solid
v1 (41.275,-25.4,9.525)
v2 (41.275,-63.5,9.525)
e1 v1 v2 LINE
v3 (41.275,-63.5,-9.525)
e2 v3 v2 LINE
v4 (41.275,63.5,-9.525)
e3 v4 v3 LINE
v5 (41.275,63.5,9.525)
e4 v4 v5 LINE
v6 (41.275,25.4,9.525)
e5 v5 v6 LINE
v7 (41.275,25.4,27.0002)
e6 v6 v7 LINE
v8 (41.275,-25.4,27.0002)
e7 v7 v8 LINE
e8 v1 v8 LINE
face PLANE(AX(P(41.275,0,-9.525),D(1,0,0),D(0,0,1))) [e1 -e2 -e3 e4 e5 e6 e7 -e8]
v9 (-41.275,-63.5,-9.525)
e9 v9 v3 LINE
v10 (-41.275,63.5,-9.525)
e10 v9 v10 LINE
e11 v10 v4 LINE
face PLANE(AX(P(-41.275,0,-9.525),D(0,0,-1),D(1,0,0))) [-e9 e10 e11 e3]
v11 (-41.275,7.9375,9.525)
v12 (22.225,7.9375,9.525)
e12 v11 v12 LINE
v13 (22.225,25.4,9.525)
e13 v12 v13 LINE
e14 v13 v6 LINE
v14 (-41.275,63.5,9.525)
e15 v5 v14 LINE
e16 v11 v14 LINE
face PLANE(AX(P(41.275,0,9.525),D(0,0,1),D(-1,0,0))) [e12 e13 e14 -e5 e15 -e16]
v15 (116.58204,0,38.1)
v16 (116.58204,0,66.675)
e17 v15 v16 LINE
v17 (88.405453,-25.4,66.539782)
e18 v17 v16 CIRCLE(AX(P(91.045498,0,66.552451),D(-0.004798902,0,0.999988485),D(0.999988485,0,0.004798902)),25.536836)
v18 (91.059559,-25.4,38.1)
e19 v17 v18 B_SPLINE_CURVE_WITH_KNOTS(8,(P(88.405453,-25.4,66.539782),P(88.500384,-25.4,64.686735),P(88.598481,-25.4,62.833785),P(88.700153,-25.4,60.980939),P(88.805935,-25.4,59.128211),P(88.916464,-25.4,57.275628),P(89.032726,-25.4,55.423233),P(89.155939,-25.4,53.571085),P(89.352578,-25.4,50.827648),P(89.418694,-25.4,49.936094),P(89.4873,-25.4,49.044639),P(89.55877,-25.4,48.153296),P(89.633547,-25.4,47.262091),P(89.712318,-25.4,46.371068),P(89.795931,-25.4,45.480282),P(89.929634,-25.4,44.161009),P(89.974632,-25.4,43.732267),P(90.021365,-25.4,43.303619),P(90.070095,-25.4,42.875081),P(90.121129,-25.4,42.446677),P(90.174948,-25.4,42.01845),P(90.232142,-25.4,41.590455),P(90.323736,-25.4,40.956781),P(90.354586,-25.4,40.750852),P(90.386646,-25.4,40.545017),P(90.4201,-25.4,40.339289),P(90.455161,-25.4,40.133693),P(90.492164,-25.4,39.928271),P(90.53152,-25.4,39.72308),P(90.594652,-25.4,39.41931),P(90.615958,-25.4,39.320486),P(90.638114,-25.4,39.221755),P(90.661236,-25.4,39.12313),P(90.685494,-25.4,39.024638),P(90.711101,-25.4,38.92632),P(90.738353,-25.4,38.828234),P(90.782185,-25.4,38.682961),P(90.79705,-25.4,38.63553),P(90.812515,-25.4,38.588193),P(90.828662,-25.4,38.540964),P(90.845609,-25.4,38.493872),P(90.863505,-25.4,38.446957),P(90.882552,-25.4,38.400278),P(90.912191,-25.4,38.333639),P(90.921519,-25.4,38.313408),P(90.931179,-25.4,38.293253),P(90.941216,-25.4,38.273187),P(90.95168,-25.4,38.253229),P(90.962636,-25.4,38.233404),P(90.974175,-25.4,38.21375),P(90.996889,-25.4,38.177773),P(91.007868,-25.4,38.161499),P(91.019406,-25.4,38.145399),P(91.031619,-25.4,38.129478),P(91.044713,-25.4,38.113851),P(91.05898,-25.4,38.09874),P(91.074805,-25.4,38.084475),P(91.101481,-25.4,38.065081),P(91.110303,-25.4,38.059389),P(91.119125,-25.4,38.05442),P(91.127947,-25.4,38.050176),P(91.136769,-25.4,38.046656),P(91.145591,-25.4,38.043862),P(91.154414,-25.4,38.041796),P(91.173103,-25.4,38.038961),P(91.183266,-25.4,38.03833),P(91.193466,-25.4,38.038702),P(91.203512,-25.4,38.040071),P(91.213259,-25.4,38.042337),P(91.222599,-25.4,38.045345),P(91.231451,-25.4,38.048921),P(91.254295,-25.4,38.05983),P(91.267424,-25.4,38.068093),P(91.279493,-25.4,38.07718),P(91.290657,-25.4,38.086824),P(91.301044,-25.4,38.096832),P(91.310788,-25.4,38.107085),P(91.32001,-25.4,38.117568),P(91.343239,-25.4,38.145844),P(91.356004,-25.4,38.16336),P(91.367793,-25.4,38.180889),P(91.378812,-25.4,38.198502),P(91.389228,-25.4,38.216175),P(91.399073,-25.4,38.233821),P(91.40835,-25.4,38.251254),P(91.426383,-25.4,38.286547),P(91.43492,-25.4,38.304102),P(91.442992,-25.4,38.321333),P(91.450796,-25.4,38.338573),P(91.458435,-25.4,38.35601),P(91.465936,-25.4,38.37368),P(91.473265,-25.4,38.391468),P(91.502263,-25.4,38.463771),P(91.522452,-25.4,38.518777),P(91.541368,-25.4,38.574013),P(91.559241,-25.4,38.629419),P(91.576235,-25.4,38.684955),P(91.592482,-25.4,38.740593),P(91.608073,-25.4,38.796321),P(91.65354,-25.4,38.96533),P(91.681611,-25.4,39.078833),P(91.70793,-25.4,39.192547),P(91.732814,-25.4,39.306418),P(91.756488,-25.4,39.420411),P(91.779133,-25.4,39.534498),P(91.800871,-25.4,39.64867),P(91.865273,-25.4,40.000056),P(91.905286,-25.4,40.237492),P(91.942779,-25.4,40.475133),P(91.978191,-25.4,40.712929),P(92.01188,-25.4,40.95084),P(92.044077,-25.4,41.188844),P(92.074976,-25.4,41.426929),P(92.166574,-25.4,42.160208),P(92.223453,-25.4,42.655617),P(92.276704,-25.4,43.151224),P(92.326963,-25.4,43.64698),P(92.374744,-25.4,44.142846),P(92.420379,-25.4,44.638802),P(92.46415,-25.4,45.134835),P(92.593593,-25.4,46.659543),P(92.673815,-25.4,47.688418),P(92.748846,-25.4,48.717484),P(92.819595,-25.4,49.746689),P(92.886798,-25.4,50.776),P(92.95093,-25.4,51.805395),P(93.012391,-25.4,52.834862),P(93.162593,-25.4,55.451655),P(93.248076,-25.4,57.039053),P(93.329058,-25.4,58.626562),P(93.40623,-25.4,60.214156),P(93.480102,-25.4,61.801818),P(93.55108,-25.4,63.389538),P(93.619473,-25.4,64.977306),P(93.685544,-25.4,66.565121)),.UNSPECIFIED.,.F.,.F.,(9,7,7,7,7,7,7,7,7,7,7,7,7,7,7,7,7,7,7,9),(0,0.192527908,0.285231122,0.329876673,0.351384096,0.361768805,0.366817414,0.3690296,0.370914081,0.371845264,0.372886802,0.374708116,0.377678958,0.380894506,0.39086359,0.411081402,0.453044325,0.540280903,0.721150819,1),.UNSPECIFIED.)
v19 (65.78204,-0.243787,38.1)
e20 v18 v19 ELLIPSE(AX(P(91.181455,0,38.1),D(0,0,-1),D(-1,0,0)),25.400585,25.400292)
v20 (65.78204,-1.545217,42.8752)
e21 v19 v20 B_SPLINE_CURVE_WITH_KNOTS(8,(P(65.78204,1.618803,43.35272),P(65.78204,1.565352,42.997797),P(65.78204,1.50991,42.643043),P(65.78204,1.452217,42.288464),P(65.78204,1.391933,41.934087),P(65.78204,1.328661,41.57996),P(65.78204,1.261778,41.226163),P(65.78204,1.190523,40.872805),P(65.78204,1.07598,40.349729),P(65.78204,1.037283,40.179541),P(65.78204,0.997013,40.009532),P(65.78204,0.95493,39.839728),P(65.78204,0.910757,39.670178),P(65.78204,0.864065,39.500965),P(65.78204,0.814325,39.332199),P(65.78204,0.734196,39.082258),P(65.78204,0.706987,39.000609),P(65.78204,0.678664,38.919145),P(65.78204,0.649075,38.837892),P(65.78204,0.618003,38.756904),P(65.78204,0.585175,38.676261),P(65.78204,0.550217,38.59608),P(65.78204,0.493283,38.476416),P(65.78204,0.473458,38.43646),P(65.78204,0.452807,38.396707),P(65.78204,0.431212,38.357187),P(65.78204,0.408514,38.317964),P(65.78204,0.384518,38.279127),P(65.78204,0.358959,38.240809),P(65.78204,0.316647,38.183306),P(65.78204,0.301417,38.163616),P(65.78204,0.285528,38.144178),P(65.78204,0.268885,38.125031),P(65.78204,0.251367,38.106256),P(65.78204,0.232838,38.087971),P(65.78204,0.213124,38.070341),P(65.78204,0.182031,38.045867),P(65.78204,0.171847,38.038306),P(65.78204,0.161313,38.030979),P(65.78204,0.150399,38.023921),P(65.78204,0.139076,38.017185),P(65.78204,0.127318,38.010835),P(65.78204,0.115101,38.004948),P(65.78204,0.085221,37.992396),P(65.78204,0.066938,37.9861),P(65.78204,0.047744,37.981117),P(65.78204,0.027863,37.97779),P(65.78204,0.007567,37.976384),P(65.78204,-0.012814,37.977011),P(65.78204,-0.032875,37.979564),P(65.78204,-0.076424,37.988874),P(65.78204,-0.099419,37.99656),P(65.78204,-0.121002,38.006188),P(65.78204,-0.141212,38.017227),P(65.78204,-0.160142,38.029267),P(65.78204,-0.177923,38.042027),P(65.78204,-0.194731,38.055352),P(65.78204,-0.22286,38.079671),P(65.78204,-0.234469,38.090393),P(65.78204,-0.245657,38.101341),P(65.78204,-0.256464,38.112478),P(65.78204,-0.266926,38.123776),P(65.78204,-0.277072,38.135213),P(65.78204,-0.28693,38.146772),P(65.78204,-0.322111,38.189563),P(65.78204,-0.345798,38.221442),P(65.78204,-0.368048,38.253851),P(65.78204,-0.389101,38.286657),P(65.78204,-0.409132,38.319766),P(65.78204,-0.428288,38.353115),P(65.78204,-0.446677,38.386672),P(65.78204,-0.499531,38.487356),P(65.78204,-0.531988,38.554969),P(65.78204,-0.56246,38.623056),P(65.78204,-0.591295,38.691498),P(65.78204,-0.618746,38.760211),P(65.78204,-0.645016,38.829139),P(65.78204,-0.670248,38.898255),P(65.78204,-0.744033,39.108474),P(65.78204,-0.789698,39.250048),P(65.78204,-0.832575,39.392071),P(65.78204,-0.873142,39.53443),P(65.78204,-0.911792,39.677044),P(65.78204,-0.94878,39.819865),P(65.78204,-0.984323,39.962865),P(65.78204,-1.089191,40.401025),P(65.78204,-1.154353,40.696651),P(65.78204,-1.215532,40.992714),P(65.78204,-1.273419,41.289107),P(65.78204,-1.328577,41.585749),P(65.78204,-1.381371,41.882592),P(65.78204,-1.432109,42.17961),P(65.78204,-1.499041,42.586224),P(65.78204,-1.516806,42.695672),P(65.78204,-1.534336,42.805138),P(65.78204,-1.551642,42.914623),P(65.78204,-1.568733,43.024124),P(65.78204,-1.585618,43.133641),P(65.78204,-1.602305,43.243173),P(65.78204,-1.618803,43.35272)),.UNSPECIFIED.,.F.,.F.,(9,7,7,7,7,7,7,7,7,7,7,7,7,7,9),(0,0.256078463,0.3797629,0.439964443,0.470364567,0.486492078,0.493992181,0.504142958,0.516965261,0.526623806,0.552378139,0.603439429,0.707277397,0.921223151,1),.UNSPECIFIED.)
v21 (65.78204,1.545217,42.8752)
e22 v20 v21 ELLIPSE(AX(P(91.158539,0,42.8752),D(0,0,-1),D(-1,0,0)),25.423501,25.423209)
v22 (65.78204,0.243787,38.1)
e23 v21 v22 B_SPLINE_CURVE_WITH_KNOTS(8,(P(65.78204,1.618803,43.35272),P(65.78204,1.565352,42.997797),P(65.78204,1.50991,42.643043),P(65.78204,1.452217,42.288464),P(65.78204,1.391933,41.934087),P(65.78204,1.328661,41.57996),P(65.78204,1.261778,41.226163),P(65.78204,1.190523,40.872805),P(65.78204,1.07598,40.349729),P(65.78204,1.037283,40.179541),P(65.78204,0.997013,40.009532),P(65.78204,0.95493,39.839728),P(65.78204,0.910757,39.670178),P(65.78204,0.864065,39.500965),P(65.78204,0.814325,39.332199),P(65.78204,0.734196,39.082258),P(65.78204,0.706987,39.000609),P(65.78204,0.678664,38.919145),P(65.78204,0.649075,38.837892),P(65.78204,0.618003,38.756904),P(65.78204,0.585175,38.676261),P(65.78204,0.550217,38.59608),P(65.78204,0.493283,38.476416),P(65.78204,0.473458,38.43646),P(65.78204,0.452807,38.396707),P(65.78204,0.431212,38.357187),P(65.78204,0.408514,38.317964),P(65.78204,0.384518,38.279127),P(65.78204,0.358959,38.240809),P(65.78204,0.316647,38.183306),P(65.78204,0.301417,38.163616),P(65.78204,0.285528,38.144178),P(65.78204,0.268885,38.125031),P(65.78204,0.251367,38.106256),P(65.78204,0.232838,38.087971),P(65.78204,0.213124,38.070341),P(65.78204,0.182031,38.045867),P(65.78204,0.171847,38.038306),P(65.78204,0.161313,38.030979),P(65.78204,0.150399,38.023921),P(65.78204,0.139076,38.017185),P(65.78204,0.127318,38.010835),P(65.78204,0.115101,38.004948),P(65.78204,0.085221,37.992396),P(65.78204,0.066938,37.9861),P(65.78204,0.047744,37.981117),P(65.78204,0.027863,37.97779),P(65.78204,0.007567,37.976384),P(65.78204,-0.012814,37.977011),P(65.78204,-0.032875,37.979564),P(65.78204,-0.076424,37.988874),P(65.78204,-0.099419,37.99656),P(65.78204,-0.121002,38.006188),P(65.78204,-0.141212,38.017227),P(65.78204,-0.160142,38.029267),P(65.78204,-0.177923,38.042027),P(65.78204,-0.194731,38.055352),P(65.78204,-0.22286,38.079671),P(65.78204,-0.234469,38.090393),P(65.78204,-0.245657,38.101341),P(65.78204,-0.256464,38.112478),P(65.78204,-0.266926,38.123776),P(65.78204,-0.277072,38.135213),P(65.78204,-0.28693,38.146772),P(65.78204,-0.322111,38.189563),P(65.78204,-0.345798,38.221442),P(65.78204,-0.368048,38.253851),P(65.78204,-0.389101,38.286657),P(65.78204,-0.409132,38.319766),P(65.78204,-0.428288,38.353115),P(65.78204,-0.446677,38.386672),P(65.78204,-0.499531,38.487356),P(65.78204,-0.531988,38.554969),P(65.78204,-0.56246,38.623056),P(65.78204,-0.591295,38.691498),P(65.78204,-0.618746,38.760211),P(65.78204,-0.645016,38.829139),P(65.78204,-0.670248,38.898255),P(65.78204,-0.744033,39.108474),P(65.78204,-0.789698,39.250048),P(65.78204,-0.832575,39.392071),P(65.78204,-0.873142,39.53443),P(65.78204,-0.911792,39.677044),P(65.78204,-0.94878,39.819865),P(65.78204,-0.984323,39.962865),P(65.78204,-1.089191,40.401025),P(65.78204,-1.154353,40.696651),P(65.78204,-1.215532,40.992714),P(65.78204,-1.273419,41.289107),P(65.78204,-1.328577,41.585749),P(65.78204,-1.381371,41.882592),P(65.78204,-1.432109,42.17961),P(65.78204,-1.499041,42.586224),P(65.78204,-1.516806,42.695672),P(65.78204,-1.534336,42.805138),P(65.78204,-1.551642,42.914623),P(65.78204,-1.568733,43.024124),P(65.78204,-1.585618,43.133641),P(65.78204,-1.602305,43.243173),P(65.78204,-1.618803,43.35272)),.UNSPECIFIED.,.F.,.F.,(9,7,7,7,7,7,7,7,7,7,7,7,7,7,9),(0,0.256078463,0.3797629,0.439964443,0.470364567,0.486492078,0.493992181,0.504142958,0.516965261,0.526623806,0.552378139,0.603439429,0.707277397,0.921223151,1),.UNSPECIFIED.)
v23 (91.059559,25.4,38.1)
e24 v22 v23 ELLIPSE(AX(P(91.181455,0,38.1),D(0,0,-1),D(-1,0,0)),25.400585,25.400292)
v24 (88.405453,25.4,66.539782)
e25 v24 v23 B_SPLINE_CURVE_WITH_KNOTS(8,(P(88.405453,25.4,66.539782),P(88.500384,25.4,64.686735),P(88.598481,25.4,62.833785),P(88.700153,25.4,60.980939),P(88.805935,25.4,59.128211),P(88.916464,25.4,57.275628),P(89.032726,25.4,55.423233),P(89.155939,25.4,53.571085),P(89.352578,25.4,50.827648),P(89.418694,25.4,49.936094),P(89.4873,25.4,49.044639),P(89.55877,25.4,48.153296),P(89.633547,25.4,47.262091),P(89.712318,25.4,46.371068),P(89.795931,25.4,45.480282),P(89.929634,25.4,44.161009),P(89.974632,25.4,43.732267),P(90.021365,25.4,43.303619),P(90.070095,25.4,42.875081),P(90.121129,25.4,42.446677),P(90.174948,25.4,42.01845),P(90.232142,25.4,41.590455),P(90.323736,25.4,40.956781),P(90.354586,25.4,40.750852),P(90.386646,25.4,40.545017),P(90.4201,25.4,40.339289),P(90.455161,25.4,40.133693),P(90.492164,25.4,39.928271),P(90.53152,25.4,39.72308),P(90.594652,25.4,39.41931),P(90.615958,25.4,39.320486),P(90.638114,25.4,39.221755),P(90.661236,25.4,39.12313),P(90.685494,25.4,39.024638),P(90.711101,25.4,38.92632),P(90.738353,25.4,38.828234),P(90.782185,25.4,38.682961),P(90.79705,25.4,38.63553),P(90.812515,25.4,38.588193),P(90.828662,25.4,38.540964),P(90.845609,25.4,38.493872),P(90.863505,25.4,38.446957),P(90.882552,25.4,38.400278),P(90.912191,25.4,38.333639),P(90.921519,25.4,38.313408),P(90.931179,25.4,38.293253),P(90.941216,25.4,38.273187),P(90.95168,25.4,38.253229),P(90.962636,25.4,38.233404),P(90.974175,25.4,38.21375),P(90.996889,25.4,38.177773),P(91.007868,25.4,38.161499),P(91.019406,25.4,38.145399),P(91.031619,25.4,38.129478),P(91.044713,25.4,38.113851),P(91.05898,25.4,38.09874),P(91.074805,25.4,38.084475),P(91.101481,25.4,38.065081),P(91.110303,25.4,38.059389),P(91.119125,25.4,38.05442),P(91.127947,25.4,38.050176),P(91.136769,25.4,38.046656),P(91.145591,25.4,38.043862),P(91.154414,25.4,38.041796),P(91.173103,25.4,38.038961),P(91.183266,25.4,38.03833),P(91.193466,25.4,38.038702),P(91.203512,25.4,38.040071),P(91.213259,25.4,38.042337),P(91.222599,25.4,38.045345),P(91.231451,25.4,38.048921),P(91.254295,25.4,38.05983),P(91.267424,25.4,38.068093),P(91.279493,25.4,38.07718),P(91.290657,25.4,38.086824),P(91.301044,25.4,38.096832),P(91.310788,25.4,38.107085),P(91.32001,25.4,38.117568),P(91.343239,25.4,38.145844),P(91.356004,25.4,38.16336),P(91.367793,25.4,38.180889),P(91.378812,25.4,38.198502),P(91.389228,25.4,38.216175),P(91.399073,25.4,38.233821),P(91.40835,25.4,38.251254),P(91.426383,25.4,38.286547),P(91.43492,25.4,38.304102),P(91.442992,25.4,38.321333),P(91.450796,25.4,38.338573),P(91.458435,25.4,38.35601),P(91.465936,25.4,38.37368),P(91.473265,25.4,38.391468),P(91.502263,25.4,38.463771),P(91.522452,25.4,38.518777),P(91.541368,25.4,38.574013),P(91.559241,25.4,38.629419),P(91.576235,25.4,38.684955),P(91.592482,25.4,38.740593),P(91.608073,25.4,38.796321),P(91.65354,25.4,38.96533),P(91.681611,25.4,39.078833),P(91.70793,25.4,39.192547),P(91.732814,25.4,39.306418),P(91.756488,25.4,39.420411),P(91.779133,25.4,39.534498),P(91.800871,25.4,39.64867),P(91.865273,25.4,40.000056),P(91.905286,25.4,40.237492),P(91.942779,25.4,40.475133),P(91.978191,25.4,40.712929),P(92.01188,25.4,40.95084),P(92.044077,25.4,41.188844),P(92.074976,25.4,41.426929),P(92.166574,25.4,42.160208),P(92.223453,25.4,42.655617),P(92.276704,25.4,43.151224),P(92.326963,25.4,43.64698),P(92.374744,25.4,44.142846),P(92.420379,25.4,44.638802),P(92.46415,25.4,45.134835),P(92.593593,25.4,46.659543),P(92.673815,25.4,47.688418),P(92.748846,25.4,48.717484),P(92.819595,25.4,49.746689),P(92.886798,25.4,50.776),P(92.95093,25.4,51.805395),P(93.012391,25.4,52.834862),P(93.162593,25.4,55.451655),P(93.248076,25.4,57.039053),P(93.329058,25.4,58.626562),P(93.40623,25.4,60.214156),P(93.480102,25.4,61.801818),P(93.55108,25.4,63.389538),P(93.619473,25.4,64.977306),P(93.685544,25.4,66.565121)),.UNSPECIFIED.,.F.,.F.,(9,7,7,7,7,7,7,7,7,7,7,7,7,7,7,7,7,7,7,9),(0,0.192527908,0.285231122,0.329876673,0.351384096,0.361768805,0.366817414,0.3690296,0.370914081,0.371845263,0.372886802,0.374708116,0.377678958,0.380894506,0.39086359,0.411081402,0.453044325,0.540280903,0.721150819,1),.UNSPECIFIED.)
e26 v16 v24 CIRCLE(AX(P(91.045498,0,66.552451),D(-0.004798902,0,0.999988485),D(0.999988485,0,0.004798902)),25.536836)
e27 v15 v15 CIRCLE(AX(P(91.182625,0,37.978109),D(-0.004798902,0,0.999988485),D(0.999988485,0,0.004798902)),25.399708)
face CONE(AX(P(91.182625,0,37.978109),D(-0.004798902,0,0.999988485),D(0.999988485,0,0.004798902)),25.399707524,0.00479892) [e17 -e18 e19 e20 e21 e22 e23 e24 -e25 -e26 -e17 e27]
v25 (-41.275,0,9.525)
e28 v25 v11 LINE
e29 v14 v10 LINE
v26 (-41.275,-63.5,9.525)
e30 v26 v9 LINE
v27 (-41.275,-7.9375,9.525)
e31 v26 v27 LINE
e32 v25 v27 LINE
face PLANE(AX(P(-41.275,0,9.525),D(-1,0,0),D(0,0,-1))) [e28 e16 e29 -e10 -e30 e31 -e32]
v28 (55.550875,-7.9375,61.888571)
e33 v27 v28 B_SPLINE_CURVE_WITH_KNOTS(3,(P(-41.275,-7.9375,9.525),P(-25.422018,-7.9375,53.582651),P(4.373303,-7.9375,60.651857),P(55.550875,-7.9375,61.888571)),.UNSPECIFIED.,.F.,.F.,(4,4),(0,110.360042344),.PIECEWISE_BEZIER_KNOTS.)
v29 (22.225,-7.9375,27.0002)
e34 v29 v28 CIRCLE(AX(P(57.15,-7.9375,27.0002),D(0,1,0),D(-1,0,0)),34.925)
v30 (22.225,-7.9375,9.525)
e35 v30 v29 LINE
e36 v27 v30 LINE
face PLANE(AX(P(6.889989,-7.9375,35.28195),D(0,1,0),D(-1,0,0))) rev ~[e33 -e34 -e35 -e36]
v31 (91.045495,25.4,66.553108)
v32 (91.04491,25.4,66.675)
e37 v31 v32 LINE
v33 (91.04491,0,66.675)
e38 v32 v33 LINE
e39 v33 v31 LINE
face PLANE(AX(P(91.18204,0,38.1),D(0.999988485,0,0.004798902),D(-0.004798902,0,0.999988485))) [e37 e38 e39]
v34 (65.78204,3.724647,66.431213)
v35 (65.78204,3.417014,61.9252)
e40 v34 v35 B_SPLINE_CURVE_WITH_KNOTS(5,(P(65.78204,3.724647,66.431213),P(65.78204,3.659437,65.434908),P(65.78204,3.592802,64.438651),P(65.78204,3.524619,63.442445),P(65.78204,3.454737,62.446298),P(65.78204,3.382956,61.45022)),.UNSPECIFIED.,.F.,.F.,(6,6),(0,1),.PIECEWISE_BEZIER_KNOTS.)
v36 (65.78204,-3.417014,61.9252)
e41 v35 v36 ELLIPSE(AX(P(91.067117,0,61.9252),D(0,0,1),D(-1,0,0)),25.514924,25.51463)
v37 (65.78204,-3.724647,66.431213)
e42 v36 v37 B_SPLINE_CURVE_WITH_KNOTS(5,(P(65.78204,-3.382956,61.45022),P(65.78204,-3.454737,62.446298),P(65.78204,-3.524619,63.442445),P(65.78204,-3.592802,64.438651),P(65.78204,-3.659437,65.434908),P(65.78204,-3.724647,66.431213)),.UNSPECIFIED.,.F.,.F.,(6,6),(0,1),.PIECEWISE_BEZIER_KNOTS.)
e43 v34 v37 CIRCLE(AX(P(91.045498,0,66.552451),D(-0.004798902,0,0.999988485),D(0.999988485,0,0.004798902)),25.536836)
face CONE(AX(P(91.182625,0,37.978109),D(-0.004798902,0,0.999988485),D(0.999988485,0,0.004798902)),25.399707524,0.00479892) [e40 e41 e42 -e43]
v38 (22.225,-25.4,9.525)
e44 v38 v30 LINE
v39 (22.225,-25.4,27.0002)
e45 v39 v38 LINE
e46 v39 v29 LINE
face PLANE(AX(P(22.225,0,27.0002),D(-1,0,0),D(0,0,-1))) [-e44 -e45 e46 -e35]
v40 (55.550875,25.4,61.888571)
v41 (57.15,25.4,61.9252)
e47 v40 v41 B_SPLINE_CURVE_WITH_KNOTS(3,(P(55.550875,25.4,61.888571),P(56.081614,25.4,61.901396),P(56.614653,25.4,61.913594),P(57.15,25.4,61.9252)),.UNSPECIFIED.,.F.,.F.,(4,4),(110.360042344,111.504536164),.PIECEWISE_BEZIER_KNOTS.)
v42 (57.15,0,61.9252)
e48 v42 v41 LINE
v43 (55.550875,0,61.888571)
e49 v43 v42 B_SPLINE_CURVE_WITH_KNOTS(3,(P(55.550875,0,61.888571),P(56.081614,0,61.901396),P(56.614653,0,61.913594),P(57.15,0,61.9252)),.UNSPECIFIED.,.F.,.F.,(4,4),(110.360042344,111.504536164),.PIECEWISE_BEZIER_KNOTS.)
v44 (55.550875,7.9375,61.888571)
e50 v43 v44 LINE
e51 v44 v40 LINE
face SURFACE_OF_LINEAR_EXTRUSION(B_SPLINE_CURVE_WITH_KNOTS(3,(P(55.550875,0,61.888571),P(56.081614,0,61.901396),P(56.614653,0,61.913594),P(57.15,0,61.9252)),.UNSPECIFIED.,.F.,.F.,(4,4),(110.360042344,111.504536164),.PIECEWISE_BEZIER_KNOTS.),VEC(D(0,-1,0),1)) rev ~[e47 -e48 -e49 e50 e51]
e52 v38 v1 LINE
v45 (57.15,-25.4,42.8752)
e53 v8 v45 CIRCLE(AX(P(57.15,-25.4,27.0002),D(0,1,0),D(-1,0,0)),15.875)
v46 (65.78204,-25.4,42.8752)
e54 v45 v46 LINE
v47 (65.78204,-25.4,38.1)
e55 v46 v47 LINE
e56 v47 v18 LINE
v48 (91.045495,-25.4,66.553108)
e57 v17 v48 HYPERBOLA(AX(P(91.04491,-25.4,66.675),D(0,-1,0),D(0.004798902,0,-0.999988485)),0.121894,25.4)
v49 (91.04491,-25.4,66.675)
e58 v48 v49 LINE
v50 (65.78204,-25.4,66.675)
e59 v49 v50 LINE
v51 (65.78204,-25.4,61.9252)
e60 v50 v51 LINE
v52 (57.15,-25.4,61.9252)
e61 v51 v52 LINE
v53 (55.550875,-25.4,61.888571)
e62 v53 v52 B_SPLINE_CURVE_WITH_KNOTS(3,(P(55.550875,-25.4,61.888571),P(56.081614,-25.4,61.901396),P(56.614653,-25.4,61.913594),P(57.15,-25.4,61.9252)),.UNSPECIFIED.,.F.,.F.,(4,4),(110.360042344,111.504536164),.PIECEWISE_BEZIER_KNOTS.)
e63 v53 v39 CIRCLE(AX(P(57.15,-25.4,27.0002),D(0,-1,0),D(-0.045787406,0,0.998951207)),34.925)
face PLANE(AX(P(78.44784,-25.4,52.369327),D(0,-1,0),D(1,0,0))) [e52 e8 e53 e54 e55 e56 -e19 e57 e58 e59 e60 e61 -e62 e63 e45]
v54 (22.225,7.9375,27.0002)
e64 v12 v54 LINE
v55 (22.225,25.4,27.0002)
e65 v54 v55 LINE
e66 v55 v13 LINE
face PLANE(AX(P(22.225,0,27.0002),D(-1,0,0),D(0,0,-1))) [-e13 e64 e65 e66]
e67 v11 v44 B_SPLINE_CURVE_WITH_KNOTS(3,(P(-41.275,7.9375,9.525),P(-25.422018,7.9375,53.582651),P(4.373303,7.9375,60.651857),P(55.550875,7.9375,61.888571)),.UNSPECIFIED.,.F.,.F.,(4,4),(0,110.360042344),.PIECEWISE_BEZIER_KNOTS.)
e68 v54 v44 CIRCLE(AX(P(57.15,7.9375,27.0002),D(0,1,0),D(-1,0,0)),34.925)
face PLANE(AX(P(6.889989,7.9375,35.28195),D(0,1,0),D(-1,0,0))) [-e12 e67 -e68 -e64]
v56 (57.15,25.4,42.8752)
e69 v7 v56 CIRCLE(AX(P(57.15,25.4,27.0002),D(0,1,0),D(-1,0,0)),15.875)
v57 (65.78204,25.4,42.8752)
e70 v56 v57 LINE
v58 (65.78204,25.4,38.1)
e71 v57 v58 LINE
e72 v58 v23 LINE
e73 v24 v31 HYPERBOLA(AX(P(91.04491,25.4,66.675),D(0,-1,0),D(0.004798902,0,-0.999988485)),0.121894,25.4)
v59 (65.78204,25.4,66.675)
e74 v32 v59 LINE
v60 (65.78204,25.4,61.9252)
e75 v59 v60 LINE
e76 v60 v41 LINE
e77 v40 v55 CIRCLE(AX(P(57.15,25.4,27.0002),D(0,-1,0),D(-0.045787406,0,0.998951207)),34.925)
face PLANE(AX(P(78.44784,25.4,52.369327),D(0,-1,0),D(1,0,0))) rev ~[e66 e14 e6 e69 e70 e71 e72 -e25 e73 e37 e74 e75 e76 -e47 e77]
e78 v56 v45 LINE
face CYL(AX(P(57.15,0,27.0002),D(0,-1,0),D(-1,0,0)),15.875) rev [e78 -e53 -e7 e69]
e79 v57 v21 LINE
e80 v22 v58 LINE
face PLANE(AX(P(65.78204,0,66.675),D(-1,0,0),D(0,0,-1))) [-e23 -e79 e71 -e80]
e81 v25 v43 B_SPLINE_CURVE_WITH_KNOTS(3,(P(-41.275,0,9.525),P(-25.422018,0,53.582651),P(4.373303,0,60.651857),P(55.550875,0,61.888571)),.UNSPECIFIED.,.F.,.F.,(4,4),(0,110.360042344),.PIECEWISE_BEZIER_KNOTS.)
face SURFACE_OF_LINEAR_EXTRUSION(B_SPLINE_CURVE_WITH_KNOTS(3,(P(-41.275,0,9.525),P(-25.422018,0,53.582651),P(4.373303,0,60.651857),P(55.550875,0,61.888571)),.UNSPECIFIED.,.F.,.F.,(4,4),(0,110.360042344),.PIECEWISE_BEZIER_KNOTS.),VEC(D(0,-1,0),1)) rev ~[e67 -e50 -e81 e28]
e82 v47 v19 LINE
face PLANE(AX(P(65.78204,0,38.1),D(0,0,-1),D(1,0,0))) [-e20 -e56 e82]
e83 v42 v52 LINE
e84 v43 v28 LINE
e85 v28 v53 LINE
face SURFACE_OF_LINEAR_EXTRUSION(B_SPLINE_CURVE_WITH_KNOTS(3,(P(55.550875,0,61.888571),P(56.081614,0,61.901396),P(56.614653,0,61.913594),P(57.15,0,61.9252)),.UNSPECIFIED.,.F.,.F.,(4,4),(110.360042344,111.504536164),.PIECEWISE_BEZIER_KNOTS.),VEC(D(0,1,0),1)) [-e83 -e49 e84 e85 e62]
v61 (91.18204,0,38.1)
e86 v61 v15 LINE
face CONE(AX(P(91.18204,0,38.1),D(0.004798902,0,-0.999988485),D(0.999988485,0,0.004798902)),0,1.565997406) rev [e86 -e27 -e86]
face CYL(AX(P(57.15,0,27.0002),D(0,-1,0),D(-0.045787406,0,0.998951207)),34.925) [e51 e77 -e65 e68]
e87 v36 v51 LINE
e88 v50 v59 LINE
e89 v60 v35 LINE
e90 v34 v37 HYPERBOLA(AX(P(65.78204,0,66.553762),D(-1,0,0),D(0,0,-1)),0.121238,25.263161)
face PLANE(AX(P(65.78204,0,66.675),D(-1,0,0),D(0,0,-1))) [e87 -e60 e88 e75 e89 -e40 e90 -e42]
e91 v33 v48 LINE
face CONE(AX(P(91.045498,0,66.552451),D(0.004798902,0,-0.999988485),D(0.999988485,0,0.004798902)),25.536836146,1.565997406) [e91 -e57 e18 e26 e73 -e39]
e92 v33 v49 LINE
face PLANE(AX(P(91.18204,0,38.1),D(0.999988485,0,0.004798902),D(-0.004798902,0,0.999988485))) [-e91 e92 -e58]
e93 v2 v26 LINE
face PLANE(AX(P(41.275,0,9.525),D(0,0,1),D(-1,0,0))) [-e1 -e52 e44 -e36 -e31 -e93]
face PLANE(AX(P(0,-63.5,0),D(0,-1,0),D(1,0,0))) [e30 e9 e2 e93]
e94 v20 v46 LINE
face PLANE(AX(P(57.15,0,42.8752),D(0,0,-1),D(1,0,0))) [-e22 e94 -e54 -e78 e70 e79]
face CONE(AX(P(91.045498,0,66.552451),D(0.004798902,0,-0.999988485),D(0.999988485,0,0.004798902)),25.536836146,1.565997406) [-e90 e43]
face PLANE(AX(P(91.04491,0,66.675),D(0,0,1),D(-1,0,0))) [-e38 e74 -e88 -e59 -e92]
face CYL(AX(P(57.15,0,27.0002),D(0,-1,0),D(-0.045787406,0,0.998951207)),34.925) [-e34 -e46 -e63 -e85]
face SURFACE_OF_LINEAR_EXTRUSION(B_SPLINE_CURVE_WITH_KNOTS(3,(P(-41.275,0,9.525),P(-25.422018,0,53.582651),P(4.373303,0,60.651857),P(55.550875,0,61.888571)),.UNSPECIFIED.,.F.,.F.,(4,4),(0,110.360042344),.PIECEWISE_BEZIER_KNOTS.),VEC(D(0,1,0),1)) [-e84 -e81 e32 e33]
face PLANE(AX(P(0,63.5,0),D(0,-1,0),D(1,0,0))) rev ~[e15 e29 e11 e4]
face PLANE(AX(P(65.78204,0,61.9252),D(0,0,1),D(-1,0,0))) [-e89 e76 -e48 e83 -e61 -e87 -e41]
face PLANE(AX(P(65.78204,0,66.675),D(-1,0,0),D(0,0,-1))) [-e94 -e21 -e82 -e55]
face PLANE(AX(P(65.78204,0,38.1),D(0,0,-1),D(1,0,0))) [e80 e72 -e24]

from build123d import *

# Parameters (mm, degrees)
F1_DEPTH = 63.5
F2_DEPTH = 25.4
F3_DEPTH = 7.9375
F4_DEPTH = 25.4


with BuildPart() as f1:
    # F0 (on Front) → F1 (new body, symmetric)
    with BuildSketch(Plane.XZ):
        Polygon((-41.275, -9.525), (41.275, -9.525), (41.275, 9.525), (22.225, 9.525), (-41.275, 9.525), align=None)
    extrude(amount=F1_DEPTH, both=True)

    # F0 (on Front) → F2 (join, symmetric)
    with BuildSketch(Plane.XZ):
        with BuildLine():
            Line((22.225, 9.525), (41.275, 9.525))
            Line((41.275, 9.525), (41.275, 27.0002))
            ThreePointArc((41.275, 27.0002), (45.9246798487, 38.2255201513), (57.15, 42.8752))
            Line((57.15, 42.8752), (65.7820404529, 42.8752))
            Line((65.7820404529, 42.8752), (65.7820404529, 61.9252))
            Line((65.7820404529, 61.9252), (57.15, 61.9252))
            add(Edge.make_bspline(
                [(55.550874855, 61.8885708959), (56.0816141812, 61.9013962884), (56.6146531302, 61.9135944066), (57.15, 61.9252)],
                knots=[110.3600423444, 110.3600423444, 110.3600423444, 110.3600423444, 111.5045361635, 111.5045361635, 111.5045361635, 111.5045361635], degree=3))
            ThreePointArc((55.550874855, 61.8885708959), (31.8952472721, 51.1239038959), (22.225, 27.0002))
            Line((22.225, 27.0002), (22.225, 9.525))
        make_face()
    extrude(amount=F2_DEPTH, both=True)

    # F0 (on Front) → F3 (join, symmetric)
    with BuildSketch(Plane.XZ):
        with BuildLine():
            add(Edge.make_bspline(
                [(-41.275, 9.525), (-25.4220175823, 53.5826509426), (4.3733031342, 60.6518574843), (55.550874855, 61.8885708959)],
                knots=[0, 0, 0, 0, 110.3600423444, 110.3600423444, 110.3600423444, 110.3600423444], degree=3))
            Line((-41.275, 9.525), (22.225, 9.525))
            Line((22.225, 9.525), (22.225, 27.0002))
            ThreePointArc((22.225, 27.0002), (31.8952472721, 51.1239038959), (55.550874855, 61.8885708959))
        make_face()
    extrude(amount=F3_DEPTH, both=True)

    # F0 (on Front) → F4 (join, symmetric)
    with BuildSketch(Plane.XZ):
        Polygon((65.7820404529, 61.9252), (65.7820404529, 42.8752), (65.7820404529, 38.1), (91.1820404529, 38.1), (91.0449102521, 66.675), (65.7820404529, 66.675), align=None)
    extrude(amount=F4_DEPTH, both=True)

    # F0 (on Front) → F5 (revolve)
    with BuildSketch(Plane.XZ):
        Polygon((91.0449102521, 66.675), (91.1820404529, 38.1), (116.5820404529, 38.1), (116.5820404529, 66.675), align=None)
    revolve(axis=Axis((91.1134753525, 0, 52.3875), (-0.0047989019, 0, 0.9999884852)))


solid = f1.part
